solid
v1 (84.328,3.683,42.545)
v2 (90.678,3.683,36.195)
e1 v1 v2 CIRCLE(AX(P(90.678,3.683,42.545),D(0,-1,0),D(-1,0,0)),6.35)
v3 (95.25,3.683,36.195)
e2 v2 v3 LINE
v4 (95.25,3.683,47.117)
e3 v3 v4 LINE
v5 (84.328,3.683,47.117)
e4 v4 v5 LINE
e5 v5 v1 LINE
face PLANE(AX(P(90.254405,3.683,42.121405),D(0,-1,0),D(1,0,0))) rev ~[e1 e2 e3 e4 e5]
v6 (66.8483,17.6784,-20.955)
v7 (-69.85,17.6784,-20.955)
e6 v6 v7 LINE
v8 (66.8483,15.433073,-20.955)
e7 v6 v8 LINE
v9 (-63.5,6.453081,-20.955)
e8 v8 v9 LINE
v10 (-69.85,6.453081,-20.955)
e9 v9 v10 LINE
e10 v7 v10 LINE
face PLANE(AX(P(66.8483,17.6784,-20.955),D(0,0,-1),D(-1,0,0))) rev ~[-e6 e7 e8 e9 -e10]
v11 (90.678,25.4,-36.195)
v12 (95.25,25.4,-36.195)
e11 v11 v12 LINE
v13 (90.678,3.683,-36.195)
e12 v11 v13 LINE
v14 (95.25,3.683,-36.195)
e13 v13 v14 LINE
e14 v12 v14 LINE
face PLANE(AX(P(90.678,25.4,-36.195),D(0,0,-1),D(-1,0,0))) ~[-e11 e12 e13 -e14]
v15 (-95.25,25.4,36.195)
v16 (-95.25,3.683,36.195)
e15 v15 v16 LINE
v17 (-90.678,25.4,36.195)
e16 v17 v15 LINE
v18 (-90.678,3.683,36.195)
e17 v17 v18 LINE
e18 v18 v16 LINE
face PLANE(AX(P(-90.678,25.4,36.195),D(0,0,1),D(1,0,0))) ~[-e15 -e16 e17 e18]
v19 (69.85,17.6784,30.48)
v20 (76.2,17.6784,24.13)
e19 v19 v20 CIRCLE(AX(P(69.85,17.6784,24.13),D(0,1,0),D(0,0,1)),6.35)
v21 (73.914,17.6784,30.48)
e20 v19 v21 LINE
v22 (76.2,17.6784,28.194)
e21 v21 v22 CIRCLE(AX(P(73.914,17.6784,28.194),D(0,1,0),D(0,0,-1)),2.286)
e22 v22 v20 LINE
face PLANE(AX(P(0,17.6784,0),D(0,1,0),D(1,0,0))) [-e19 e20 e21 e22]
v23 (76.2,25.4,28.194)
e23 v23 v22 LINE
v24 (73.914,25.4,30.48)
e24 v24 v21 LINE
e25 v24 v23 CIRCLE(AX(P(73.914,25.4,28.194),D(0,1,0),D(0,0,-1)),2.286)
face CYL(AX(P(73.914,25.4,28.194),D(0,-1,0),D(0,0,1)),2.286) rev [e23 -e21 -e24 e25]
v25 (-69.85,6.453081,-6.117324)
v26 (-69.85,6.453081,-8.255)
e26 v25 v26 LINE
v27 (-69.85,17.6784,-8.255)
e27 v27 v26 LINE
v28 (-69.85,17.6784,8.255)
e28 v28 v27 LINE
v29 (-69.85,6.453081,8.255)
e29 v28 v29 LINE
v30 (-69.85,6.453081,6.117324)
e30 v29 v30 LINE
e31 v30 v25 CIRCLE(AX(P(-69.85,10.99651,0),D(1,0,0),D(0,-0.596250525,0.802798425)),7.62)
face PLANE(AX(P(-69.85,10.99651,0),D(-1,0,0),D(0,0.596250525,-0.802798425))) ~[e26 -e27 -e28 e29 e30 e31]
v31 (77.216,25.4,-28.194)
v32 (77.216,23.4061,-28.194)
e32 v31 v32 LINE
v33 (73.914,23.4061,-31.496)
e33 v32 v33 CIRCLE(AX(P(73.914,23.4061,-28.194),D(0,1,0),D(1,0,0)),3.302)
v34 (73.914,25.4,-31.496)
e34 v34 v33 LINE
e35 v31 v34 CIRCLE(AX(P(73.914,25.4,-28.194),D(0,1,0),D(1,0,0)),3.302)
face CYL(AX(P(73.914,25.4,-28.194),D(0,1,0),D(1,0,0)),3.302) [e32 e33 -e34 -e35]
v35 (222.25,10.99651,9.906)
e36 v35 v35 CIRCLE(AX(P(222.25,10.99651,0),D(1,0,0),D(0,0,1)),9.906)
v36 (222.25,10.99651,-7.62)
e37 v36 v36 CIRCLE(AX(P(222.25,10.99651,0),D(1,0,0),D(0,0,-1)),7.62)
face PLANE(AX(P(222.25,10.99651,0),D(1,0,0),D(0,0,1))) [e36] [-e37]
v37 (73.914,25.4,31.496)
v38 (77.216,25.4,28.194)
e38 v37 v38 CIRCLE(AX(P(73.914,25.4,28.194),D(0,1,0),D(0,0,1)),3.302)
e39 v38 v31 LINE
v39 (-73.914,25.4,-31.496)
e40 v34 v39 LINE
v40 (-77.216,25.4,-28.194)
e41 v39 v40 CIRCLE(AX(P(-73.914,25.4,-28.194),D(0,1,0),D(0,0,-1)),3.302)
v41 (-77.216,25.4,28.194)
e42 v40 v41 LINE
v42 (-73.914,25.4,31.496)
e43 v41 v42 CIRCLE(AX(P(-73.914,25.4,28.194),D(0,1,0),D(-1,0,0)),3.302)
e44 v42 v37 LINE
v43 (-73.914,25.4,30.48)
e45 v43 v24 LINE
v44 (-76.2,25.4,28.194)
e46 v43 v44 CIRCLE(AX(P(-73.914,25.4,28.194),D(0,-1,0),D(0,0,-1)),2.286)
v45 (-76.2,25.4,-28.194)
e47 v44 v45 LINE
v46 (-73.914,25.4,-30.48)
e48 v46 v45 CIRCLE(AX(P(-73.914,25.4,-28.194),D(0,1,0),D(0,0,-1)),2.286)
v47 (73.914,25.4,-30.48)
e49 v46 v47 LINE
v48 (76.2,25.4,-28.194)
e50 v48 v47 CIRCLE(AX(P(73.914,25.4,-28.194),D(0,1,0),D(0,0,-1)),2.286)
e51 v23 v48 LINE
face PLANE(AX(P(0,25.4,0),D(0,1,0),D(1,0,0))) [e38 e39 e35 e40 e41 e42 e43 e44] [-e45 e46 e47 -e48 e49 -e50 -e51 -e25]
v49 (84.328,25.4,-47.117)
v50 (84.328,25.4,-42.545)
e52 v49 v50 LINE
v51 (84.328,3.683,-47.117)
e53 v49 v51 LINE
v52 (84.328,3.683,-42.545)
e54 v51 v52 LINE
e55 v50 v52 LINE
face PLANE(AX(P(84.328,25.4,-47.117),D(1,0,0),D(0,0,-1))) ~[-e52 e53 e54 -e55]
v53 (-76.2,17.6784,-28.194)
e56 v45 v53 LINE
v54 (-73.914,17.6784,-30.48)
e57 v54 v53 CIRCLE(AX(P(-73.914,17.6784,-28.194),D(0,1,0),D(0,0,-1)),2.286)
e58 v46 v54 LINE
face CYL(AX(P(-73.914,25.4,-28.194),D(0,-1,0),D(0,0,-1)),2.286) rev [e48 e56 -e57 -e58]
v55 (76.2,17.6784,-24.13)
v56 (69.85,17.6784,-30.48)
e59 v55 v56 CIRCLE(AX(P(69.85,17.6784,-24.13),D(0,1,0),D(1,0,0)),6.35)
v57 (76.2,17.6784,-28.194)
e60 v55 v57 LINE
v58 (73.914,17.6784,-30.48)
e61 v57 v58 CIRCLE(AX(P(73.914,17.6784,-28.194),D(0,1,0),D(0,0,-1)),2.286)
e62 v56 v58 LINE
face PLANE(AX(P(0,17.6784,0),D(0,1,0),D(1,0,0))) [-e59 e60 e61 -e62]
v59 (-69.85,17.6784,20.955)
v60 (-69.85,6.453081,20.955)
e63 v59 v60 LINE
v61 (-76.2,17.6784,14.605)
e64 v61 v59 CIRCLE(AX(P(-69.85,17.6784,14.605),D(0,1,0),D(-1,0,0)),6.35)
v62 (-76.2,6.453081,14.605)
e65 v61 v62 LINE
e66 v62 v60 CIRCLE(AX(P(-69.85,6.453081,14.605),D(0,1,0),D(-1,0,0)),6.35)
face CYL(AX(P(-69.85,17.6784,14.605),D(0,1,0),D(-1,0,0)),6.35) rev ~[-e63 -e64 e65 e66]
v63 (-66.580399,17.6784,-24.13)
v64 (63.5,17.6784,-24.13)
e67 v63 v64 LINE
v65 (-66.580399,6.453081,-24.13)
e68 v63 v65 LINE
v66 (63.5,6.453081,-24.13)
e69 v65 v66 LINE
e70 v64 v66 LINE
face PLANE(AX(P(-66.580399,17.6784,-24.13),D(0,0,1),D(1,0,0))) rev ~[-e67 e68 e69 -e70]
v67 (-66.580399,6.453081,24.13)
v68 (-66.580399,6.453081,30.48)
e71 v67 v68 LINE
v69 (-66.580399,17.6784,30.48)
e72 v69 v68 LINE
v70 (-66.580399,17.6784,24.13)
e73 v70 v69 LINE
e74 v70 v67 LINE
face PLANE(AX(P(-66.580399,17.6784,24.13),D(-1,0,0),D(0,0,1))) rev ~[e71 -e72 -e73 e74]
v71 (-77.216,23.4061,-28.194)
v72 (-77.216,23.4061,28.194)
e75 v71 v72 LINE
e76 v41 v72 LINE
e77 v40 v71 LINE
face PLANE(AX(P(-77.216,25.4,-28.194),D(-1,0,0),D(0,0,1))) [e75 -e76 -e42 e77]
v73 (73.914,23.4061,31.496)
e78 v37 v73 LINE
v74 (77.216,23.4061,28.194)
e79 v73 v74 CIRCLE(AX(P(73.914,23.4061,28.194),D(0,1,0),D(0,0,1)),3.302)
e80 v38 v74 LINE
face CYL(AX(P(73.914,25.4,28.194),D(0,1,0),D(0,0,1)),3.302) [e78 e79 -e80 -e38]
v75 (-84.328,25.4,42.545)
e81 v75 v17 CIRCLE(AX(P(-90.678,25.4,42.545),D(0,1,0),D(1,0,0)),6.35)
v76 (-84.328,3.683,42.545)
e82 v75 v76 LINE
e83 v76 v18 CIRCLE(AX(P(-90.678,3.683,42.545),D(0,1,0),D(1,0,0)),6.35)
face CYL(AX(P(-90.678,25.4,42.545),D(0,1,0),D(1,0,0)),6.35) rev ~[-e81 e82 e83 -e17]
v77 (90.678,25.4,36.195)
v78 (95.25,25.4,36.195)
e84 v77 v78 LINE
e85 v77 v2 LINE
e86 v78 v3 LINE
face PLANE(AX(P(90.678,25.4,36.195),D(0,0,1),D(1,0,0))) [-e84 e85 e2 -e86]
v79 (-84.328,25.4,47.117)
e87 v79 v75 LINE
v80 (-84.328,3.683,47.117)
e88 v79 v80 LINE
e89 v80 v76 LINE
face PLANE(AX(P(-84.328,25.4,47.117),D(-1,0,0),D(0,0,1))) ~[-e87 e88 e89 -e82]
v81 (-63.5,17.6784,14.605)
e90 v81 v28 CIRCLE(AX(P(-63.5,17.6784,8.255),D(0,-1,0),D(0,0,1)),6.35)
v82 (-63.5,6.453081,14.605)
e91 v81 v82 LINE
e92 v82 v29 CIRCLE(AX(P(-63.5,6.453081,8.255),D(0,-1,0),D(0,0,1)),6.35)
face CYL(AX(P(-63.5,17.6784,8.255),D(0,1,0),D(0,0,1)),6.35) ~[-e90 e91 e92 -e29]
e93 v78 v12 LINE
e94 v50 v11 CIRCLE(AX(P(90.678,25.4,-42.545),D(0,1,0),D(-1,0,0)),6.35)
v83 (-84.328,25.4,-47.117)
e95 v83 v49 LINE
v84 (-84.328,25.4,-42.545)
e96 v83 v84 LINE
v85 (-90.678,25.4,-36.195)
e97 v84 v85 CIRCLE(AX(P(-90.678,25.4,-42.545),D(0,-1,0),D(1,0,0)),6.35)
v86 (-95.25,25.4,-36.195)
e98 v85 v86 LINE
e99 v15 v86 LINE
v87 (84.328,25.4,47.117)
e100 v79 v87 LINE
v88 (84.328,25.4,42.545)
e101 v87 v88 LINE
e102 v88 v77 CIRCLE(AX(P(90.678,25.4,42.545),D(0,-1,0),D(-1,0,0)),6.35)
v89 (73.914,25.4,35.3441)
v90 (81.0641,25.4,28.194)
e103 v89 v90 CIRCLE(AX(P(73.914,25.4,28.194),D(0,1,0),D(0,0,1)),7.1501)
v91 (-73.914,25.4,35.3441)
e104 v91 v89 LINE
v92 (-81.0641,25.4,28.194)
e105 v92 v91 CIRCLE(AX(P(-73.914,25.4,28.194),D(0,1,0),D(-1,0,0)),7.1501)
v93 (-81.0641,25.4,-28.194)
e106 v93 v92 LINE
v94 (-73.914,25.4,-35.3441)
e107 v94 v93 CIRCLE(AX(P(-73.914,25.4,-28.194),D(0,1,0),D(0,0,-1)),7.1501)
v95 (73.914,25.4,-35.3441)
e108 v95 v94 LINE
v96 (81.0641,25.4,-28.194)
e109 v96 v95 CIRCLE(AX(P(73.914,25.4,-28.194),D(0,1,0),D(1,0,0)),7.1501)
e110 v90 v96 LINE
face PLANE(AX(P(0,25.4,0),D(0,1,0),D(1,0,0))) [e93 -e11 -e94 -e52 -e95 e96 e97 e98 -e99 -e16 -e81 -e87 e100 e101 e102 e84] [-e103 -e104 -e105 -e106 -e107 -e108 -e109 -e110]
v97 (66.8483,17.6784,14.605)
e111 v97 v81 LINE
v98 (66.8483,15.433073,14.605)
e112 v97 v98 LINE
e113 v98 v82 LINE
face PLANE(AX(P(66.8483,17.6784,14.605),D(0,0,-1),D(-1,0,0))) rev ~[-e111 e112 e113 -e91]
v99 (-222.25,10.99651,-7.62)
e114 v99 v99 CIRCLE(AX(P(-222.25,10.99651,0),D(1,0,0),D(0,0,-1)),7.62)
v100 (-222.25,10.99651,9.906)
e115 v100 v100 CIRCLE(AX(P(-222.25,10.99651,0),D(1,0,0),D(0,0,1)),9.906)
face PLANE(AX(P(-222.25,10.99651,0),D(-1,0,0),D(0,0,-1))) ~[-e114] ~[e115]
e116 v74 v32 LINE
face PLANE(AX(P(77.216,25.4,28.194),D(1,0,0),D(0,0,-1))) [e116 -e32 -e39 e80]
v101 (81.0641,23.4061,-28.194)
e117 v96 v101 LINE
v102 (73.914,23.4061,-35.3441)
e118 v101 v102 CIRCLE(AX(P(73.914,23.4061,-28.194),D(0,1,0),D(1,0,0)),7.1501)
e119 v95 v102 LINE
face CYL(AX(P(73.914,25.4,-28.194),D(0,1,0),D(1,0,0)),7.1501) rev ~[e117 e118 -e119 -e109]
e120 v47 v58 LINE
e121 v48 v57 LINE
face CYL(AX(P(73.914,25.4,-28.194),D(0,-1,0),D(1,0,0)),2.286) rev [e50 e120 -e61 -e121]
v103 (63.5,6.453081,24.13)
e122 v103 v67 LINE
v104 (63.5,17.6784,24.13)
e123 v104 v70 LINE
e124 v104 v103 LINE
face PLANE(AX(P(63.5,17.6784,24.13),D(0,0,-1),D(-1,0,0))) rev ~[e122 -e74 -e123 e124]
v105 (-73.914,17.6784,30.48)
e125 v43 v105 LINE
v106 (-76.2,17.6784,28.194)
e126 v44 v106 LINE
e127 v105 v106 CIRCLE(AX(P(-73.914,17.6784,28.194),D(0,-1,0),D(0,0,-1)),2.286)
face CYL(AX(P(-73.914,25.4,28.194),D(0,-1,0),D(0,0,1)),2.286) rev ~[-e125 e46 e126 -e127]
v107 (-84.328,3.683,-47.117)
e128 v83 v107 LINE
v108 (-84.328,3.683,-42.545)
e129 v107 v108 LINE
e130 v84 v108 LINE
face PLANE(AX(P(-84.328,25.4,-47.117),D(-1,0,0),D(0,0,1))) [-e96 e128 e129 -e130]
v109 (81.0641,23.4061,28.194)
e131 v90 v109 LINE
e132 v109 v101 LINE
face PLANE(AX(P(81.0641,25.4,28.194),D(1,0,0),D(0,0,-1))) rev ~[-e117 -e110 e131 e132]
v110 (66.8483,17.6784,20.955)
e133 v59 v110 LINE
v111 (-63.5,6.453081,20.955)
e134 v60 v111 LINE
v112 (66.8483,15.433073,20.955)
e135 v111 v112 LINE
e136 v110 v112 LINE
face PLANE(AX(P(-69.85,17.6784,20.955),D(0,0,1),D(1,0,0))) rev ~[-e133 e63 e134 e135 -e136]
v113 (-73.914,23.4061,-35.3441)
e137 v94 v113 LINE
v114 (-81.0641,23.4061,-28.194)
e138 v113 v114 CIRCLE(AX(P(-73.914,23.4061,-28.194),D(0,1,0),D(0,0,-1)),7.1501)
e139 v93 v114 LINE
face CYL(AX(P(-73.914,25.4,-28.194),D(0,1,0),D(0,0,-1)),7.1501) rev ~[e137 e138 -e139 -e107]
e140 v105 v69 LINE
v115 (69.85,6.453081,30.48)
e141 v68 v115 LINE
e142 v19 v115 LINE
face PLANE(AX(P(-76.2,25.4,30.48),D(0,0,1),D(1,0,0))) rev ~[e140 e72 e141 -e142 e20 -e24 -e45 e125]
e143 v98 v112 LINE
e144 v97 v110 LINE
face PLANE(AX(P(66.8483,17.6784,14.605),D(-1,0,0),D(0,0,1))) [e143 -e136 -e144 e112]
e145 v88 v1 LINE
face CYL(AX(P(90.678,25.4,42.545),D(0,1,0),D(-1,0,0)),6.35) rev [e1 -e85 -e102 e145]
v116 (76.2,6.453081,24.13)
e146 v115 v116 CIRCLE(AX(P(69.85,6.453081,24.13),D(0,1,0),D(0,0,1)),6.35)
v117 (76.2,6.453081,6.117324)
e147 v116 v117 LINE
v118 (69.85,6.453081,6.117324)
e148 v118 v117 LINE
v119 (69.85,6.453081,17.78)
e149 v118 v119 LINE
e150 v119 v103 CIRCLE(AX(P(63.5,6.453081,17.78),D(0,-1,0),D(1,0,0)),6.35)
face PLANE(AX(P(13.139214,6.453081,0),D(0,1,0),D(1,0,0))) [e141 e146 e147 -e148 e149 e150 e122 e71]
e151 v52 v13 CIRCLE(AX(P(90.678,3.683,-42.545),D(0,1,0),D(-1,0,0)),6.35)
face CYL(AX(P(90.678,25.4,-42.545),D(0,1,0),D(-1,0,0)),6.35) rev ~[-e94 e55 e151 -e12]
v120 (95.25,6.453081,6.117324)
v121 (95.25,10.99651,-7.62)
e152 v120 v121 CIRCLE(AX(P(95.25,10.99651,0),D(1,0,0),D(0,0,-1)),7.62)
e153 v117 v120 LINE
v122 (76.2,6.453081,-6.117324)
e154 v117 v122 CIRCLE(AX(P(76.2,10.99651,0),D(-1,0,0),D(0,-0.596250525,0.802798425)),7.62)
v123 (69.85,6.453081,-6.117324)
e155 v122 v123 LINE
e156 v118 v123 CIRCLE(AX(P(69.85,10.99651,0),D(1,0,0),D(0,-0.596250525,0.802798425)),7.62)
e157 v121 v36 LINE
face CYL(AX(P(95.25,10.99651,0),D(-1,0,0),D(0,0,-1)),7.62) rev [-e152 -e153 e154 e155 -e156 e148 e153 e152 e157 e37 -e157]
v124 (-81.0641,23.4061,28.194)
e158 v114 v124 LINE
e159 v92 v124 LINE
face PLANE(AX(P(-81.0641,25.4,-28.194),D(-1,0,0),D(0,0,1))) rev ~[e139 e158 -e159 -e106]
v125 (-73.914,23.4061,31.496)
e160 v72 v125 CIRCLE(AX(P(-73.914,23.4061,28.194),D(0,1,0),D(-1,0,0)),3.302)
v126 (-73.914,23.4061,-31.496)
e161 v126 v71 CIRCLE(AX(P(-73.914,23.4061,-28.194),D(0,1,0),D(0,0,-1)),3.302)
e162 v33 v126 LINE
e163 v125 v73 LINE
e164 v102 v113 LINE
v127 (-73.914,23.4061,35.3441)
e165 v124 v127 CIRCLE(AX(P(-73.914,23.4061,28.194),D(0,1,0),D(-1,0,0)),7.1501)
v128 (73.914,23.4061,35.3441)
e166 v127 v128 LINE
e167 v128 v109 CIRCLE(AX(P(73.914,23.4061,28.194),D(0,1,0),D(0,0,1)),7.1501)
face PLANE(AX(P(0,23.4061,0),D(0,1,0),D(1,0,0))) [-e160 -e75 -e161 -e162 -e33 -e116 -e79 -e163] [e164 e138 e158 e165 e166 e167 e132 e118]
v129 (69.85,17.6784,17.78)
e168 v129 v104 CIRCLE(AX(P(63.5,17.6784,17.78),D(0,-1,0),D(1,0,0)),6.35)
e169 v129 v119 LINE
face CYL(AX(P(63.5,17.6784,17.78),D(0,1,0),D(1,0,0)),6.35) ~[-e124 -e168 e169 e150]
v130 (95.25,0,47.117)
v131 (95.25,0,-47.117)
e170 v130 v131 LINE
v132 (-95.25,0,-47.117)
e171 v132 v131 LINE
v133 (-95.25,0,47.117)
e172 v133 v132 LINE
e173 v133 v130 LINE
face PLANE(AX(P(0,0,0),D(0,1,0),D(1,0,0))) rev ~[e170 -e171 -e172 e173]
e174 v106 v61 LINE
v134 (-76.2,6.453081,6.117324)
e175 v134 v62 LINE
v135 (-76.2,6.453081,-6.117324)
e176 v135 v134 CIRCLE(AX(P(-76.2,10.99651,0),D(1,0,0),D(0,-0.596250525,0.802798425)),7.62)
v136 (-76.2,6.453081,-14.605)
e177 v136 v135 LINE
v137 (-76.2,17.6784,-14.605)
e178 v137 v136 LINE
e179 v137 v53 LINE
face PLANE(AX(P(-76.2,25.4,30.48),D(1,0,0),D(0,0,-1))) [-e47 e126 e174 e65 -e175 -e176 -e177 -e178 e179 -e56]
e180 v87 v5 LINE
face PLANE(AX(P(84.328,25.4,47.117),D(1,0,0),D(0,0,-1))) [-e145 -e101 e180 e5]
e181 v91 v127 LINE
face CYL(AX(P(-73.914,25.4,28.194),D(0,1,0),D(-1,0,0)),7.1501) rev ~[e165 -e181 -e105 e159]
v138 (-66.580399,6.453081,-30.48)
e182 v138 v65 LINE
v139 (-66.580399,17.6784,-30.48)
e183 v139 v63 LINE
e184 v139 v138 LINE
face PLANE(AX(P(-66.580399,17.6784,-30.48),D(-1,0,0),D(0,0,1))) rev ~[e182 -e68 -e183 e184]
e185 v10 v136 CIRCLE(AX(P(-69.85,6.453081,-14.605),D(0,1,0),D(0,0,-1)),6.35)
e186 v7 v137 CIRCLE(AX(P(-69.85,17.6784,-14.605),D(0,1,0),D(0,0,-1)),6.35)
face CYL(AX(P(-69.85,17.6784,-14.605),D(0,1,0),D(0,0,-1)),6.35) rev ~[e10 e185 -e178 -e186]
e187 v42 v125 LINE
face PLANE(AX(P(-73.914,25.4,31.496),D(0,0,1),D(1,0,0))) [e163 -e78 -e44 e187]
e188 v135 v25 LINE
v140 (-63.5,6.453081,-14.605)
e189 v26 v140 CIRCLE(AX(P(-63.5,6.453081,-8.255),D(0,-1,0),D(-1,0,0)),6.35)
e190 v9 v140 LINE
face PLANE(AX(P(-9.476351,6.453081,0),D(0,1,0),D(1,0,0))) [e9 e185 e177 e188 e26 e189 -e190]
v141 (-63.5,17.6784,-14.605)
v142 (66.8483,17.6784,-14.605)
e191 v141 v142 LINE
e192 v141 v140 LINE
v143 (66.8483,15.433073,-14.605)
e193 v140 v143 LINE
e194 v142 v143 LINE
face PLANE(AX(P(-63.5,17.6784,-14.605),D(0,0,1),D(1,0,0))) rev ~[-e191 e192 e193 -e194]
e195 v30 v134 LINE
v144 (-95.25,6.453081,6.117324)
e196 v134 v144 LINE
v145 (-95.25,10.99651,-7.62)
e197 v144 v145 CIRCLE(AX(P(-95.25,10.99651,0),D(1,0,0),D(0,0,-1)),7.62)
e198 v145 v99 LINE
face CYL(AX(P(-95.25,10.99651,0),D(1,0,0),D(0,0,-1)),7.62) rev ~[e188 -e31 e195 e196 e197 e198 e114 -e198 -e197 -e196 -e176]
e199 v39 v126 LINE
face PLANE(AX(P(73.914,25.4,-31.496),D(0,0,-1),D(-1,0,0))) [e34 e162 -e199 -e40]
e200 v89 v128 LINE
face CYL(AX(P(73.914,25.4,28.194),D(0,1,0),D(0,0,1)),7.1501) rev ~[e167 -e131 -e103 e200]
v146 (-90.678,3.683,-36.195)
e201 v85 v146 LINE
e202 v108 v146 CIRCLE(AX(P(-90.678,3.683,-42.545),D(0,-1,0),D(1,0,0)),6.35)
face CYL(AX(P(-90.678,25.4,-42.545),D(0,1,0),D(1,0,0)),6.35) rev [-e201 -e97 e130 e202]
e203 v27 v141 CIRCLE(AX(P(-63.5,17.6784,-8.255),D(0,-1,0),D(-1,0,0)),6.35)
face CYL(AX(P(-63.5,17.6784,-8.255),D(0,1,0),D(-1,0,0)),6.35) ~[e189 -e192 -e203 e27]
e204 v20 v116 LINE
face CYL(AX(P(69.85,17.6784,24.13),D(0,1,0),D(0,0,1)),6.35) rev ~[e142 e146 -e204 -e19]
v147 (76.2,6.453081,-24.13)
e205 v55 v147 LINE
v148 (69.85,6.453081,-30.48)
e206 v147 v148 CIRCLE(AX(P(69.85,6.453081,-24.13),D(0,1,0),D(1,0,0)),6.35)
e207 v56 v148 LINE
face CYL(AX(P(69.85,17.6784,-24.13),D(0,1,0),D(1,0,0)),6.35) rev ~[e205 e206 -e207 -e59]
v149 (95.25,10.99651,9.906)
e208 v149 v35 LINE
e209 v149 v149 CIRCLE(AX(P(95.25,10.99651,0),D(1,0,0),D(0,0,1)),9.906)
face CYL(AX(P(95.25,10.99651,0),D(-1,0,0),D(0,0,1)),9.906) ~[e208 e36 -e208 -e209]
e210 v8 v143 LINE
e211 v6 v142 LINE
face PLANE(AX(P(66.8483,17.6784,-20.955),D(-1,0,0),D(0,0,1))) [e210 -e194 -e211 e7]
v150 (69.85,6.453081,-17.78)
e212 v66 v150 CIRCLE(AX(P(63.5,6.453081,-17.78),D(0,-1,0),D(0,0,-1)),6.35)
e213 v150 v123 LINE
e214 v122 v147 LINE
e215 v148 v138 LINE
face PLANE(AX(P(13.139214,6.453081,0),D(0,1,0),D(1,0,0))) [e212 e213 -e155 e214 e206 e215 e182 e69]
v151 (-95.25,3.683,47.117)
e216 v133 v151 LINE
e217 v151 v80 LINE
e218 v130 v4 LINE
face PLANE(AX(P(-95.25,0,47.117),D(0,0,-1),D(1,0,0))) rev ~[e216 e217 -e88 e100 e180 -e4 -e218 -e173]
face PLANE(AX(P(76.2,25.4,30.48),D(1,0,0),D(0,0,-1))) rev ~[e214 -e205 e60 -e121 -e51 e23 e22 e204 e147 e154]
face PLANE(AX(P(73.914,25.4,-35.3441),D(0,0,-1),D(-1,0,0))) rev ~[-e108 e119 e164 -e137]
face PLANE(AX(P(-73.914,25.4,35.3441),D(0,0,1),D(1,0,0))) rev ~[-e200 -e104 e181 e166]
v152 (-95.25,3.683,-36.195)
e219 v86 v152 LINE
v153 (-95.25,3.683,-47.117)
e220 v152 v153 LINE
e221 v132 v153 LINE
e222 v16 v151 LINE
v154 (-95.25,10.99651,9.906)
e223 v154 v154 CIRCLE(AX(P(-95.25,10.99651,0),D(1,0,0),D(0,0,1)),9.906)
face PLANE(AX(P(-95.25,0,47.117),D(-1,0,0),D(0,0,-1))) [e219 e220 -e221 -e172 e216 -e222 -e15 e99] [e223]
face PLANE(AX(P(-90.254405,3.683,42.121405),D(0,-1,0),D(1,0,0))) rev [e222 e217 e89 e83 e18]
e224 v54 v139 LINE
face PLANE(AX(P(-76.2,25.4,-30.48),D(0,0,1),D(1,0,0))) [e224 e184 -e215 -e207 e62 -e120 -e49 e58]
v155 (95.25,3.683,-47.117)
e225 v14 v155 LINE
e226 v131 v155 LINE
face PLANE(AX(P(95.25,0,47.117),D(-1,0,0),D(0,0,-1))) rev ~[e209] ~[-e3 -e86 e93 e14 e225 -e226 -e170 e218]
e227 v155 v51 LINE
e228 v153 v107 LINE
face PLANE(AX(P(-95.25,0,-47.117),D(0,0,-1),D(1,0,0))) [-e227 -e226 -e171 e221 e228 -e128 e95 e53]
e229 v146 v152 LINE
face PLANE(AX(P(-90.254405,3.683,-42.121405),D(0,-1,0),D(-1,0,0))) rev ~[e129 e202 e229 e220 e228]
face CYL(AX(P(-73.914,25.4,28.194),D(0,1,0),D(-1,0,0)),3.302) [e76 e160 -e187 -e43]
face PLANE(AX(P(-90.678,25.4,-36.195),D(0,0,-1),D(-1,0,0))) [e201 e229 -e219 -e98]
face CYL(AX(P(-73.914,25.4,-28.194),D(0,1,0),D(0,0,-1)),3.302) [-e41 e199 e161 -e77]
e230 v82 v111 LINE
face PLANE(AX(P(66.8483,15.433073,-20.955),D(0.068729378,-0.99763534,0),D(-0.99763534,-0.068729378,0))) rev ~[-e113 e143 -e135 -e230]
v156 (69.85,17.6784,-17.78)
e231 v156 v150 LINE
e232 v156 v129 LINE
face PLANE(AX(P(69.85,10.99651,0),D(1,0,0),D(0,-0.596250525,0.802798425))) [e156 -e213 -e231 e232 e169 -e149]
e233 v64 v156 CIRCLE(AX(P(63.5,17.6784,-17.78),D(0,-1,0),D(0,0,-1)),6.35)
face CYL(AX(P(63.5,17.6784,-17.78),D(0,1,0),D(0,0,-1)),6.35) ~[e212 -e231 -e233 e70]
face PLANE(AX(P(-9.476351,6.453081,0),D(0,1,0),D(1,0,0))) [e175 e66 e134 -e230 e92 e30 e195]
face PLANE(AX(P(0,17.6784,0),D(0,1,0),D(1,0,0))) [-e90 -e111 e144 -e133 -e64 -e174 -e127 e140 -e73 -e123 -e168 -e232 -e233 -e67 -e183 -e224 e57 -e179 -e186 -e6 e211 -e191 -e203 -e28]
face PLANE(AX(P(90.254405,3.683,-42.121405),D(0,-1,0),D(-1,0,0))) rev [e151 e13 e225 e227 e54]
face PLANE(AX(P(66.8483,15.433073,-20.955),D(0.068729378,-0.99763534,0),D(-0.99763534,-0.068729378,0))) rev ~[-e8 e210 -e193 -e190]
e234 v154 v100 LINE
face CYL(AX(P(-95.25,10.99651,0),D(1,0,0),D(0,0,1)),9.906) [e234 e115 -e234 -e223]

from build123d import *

# Parameters (mm, degrees)
SKETCH2_W                                = 190.5
SKETCH2_H                                = 94.234
BOSS_EXTRUDE1_DEPTH                      = 25.4
SKETCH3_W                                = 152.4
SKETCH3_H                                = 60.96
CUT_EXTRUDE1_DEPTH                       = 7.7216
FILLET1_R                                = 2.286
CUT_EXTRUDE2_DEPTH                       = 1.9939
CUT_EXTRUDE3_DEPTH                       = 21.717
MIRROR1_AT_THE_SECOND_PLANE_COPY_1_DEPTH = 21.717
CUT_EXTRUDE6_DEPTH                       = 11.22531918
SKETCH10_R                               = 9.906
SKETCH10_R_2                             = 7.62
BOSS_EXTRUDE2_DEPTH                      = 127
CUT_EXTRUDE9_START                       = -25.4
SKETCH16_R                               = 7.62
CUT_EXTRUDE9_DEPTH                       = 25.4
BOSS_EXTRUDE3_REACH                      = 235.825


with BuildPart() as part:
    # Sketch2 → Boss-Extrude1 (new body)
    with BuildSketch(Plane(origin=(0, 0, 0), x_dir=(1, 0, 0), z_dir=(0, 1, 0))):
        Rectangle(SKETCH2_W, SKETCH2_H)
    extrude(amount=BOSS_EXTRUDE1_DEPTH)

    # Sketch3 → Cut-Extrude1 (cut)
    with BuildSketch(Plane(origin=(0, 25.4, 0), x_dir=(1, 0, 0), z_dir=(0, 1, 0))):
        Rectangle(SKETCH3_W, SKETCH3_H)
    extrude(amount=-CUT_EXTRUDE1_DEPTH, mode=Mode.SUBTRACT)

    # Fillet1
    fillet1_edges = [part.edges().sort_by_distance(p)[0] for p in [
        (76.2, 21.5392, -30.48),
        (76.2, 21.5392, 30.48),
        (-76.2, 21.5392, 30.48),
        (-76.2, 21.5392, -30.48),
    ]]
    fillet(fillet1_edges, radius=FILLET1_R)

    # Sketch5 → Cut-Extrude2 (cut)
    with BuildSketch(Plane(origin=(0, 25.4, 0), x_dir=(1, 0, 0), z_dir=(0, 1, 0))):
        with BuildLine():
            Line((-73.914, -35.3441), (73.914, -35.3441))
            ThreePointArc((73.914, -35.3441), (78.969884196, -33.249884196), (81.0641, -28.194))
            Line((81.0641, -28.194), (81.0641, 28.194))
            ThreePointArc((81.0641, 28.194), (78.969884196, 33.249884196), (73.914, 35.3441))
            Line((73.914, 35.3441), (-73.914, 35.3441))
            ThreePointArc((-73.914, 35.3441), (-78.969884196, 33.249884196), (-81.0641, 28.194))
            Line((-81.0641, 28.194), (-81.0641, -28.194))
            ThreePointArc((-81.0641, -28.194), (-78.969884196, -33.249884196), (-73.914, -35.3441))
        make_face()
        with BuildLine():
            Line((-73.914, -31.496), (73.914, -31.496))
            ThreePointArc((73.914, -31.496), (76.248866591, -30.528866591), (77.216, -28.194))
            Line((77.216, -28.194), (77.216, 28.194))
            ThreePointArc((77.216, 28.194), (76.248866591, 30.528866591), (73.914, 31.496))
            Line((73.914, 31.496), (-73.914, 31.496))
            ThreePointArc((-73.914, 31.496), (-76.248866591, 30.528866591), (-77.216, 28.194))
            Line((-77.216, 28.194), (-77.216, -28.194))
            ThreePointArc((-77.216, -28.194), (-76.248866591, -30.528866591), (-73.914, -31.496))
        make_face(mode=Mode.SUBTRACT)
    extrude(amount=-CUT_EXTRUDE2_DEPTH, mode=Mode.SUBTRACT)

    # Sketch6 → Cut-Extrude3 (cut)
    with BuildSketch(Plane(origin=(0, 25.4, 0), x_dir=(1, 0, 0), z_dir=(0, 1, 0))):
        with BuildLine():
            Line((-84.328, 47.117), (-84.328, 42.545))
            ThreePointArc((-84.328, 42.545), (-86.187871939, 38.054871939), (-90.678, 36.195))
            Line((-90.678, 36.195), (-95.25, 36.195))
            Line((-95.25, 36.195), (-95.25, 47.117))
            Line((-95.25, 47.117), (-84.328, 47.117))
        make_face()
    cut_extrude3 = extrude(amount=-CUT_EXTRUDE3_DEPTH, mode=Mode.SUBTRACT)

    # Mirror1: Cut-Extrude3 across plane
    add(cut_extrude3.mirror(Plane(origin=(0, 0, 0), x_dir=(0, 0, 1), z_dir=(1, 0, 0))), mode=Mode.SUBTRACT)

    # Mirror1 at the second plane: Cut-Extrude3 across plane
    add(cut_extrude3.mirror(Plane.XY), mode=Mode.SUBTRACT)

    # Mirror1 at the second plane copy 1 sketc → Mirror1 at the second plane copy 1 (cut)
    with BuildSketch(Plane(origin=(0, 25.4, 0), x_dir=(-1, 0, 0), z_dir=(0, 1, 0))):
        with BuildLine():
            Line((-84.328, 47.117), (-84.328, 42.545))
            ThreePointArc((-84.328, 42.545), (-86.187871939, 38.054871939), (-90.678, 36.195))
            Line((-90.678, 36.195), (-95.25, 36.195))
            Line((-95.25, 36.195), (-95.25, 47.117))
            Line((-95.25, 47.117), (-84.328, 47.117))
        make_face()
    extrude(amount=-MIRROR1_AT_THE_SECOND_PLANE_COPY_1_DEPTH, mode=Mode.SUBTRACT)

    # Sketch13 → Cut-Extrude6 (cut)
    with BuildSketch(Plane(origin=(0, 17.6784, 0), x_dir=(1, 0, 0), z_dir=(0, 1, 0))):
        with BuildLine():
            Line((-63.000000018, 24.13), (63.5, 24.13))
            ThreePointArc((63.5, 24.13), (67.990128061, 22.270128061), (69.85, 17.78))
            Line((69.85, 17.78), (69.85, -17.78))
            ThreePointArc((69.85, -17.78), (67.990128061, -22.270128061), (63.5, -24.13))
            Line((63.5, -24.13), (-63.000000018, -24.13))
            ThreePointArc((-63.000000018, -24.13), (-66.175000018, -27.305), (-63.000000018, -30.48))
            Line((-63.000000018, -30.48), (69.85, -30.48))
            ThreePointArc((69.85, -30.48), (74.340128061, -28.620128061), (76.2, -24.13))
            Line((76.2, -24.13), (76.2, 24.13))
            ThreePointArc((76.2, 24.13), (74.340128061, 28.620128061), (69.85, 30.48))
            Line((69.85, 30.48), (-63.000000018, 30.48))
            ThreePointArc((-63.000000018, 30.48), (-66.175000018, 27.305), (-63.000000018, 24.13))
        make_face()
        with BuildLine():
            Line((-66.580399175, 24.13), (-63.000000018, 24.13))
            ThreePointArc((-63.000000018, 24.13), (-66.175000018, 27.305), (-63.000000018, 30.48))
            Line((-63.000000018, 30.48), (-66.580399175, 30.48))
            Line((-66.580399175, 30.48), (-66.580399175, 24.13))
        make_face()
        with BuildLine():
            Line((-76.2, 14.605), (-76.2, -14.605))
            ThreePointArc((-76.2, -14.605), (-74.340128061, -19.095128061), (-69.85, -20.955))
            Line((-69.85, -20.955), (63.000000018, -20.955))
            ThreePointArc((63.000000018, -20.955), (66.175000018, -17.78), (63.000000018, -14.605))
            Line((63.000000018, -14.605), (-63.5, -14.605))
            ThreePointArc((-63.5, -14.605), (-67.990128061, -12.745128061), (-69.85, -8.255))
            Line((-69.85, -8.255), (-69.85, 8.255))
            ThreePointArc((-69.85, 8.255), (-67.990128061, 12.745128061), (-63.5, 14.605))
            Line((-63.5, 14.605), (63.000000018, 14.605))
            ThreePointArc((63.000000018, 14.605), (66.175000018, 17.78), (63.000000018, 20.955))
            Line((63.000000018, 20.955), (-69.85, 20.955))
            ThreePointArc((-69.85, 20.955), (-74.340128061, 19.095128061), (-76.2, 14.605))
        make_face()
        with BuildLine():
            Line((63.000000018, 20.955), (66.84830001, 20.955))
            Line((66.84830001, 20.955), (66.84830001, 14.605))
            Line((66.84830001, 14.605), (63.000000018, 14.605))
            ThreePointArc((63.000000018, 14.605), (66.175000018, 17.78), (63.000000018, 20.955))
        make_face()
        with BuildLine():
            ThreePointArc((63.000000018, -20.955), (66.175000018, -17.78), (63.000000018, -14.605))
            Line((63.000000018, -14.605), (66.84830001, -14.605))
            Line((66.84830001, -14.605), (66.84830001, -20.955))
            Line((66.84830001, -20.955), (63.000000018, -20.955))
        make_face()
        with BuildLine():
            ThreePointArc((-63.000000018, -30.48), (-66.175000018, -27.305), (-63.000000018, -24.13))
            Line((-63.000000018, -24.13), (-66.580399175, -24.13))
            Line((-66.580399175, -24.13), (-66.580399175, -30.48))
            Line((-66.580399175, -30.48), (-63.000000018, -30.48))
        make_face()
    extrude(amount=-CUT_EXTRUDE6_DEPTH, mode=Mode.SUBTRACT)

    # Sketch10 → Boss-Extrude2 (add)
    with BuildSketch(Plane(origin=(95.25, 0, 0), x_dir=(0, 0, -1), z_dir=(1, 0, 0))):
        with Locations(Location((0, 10.996509823, 0), (0, 0, 180))):
            Circle(SKETCH10_R)
        with Locations((0, 10.996509823)):
            Circle(SKETCH10_R_2, mode=Mode.SUBTRACT)
    boss_extrude2 = extrude(amount=BOSS_EXTRUDE2_DEPTH)

    # Sketch16 → Cut-Extrude9 (cut)
    with BuildSketch(Plane(origin=(95.25, 0, 0), x_dir=(0, 0, -1), z_dir=(1, 0, 0)).offset(CUT_EXTRUDE9_START)):
        with Locations(Location((0, 10.996509823, 0), (0, 0, 216.601830643))):
            Circle(SKETCH16_R)
    cut_extrude9 = extrude(amount=CUT_EXTRUDE9_DEPTH, mode=Mode.SUBTRACT)

    # Mirror2: Boss-Extrude2, Cut-Extrude9 across plane
    add(boss_extrude2.mirror(Plane(origin=(0, 0, 0), x_dir=(0, 0, 1), z_dir=(1, 0, 0))))
    add(cut_extrude9.mirror(Plane(origin=(0, 0, 0), x_dir=(0, 0, 1), z_dir=(1, 0, 0))), mode=Mode.SUBTRACT)

    # Boss-Extrude3: up to this face of the body (flat: up to its plane)
    boss_extrude3_end = Plane(part.part.faces().sort_by_distance((-1.500849995, 12.06574041, 20.955))[0])
    # Sketch17 → Boss-Extrude3 (add, up to the picked face)
    with BuildSketch(Plane.XY.offset(-20.955), mode=Mode.PRIVATE) as boss_extrude3_sk1:
        Polygon((66.84830001, 6.45308082), (66.84830001, 15.43307302), (-63.5, 6.45308082), align=None)
    boss_extrude3_tool1 = split(extrude(boss_extrude3_sk1.sketch, amount=BOSS_EXTRUDE3_REACH, mode=Mode.PRIVATE), bisect_by=boss_extrude3_end, keep=Keep.BOTH, mode=Mode.PRIVATE)
    add(boss_extrude3_tool1.solids().sort_by(Axis((23.398867, 9.446412, -20.955), (0, 0, 1)))[0])


solid = part.part
